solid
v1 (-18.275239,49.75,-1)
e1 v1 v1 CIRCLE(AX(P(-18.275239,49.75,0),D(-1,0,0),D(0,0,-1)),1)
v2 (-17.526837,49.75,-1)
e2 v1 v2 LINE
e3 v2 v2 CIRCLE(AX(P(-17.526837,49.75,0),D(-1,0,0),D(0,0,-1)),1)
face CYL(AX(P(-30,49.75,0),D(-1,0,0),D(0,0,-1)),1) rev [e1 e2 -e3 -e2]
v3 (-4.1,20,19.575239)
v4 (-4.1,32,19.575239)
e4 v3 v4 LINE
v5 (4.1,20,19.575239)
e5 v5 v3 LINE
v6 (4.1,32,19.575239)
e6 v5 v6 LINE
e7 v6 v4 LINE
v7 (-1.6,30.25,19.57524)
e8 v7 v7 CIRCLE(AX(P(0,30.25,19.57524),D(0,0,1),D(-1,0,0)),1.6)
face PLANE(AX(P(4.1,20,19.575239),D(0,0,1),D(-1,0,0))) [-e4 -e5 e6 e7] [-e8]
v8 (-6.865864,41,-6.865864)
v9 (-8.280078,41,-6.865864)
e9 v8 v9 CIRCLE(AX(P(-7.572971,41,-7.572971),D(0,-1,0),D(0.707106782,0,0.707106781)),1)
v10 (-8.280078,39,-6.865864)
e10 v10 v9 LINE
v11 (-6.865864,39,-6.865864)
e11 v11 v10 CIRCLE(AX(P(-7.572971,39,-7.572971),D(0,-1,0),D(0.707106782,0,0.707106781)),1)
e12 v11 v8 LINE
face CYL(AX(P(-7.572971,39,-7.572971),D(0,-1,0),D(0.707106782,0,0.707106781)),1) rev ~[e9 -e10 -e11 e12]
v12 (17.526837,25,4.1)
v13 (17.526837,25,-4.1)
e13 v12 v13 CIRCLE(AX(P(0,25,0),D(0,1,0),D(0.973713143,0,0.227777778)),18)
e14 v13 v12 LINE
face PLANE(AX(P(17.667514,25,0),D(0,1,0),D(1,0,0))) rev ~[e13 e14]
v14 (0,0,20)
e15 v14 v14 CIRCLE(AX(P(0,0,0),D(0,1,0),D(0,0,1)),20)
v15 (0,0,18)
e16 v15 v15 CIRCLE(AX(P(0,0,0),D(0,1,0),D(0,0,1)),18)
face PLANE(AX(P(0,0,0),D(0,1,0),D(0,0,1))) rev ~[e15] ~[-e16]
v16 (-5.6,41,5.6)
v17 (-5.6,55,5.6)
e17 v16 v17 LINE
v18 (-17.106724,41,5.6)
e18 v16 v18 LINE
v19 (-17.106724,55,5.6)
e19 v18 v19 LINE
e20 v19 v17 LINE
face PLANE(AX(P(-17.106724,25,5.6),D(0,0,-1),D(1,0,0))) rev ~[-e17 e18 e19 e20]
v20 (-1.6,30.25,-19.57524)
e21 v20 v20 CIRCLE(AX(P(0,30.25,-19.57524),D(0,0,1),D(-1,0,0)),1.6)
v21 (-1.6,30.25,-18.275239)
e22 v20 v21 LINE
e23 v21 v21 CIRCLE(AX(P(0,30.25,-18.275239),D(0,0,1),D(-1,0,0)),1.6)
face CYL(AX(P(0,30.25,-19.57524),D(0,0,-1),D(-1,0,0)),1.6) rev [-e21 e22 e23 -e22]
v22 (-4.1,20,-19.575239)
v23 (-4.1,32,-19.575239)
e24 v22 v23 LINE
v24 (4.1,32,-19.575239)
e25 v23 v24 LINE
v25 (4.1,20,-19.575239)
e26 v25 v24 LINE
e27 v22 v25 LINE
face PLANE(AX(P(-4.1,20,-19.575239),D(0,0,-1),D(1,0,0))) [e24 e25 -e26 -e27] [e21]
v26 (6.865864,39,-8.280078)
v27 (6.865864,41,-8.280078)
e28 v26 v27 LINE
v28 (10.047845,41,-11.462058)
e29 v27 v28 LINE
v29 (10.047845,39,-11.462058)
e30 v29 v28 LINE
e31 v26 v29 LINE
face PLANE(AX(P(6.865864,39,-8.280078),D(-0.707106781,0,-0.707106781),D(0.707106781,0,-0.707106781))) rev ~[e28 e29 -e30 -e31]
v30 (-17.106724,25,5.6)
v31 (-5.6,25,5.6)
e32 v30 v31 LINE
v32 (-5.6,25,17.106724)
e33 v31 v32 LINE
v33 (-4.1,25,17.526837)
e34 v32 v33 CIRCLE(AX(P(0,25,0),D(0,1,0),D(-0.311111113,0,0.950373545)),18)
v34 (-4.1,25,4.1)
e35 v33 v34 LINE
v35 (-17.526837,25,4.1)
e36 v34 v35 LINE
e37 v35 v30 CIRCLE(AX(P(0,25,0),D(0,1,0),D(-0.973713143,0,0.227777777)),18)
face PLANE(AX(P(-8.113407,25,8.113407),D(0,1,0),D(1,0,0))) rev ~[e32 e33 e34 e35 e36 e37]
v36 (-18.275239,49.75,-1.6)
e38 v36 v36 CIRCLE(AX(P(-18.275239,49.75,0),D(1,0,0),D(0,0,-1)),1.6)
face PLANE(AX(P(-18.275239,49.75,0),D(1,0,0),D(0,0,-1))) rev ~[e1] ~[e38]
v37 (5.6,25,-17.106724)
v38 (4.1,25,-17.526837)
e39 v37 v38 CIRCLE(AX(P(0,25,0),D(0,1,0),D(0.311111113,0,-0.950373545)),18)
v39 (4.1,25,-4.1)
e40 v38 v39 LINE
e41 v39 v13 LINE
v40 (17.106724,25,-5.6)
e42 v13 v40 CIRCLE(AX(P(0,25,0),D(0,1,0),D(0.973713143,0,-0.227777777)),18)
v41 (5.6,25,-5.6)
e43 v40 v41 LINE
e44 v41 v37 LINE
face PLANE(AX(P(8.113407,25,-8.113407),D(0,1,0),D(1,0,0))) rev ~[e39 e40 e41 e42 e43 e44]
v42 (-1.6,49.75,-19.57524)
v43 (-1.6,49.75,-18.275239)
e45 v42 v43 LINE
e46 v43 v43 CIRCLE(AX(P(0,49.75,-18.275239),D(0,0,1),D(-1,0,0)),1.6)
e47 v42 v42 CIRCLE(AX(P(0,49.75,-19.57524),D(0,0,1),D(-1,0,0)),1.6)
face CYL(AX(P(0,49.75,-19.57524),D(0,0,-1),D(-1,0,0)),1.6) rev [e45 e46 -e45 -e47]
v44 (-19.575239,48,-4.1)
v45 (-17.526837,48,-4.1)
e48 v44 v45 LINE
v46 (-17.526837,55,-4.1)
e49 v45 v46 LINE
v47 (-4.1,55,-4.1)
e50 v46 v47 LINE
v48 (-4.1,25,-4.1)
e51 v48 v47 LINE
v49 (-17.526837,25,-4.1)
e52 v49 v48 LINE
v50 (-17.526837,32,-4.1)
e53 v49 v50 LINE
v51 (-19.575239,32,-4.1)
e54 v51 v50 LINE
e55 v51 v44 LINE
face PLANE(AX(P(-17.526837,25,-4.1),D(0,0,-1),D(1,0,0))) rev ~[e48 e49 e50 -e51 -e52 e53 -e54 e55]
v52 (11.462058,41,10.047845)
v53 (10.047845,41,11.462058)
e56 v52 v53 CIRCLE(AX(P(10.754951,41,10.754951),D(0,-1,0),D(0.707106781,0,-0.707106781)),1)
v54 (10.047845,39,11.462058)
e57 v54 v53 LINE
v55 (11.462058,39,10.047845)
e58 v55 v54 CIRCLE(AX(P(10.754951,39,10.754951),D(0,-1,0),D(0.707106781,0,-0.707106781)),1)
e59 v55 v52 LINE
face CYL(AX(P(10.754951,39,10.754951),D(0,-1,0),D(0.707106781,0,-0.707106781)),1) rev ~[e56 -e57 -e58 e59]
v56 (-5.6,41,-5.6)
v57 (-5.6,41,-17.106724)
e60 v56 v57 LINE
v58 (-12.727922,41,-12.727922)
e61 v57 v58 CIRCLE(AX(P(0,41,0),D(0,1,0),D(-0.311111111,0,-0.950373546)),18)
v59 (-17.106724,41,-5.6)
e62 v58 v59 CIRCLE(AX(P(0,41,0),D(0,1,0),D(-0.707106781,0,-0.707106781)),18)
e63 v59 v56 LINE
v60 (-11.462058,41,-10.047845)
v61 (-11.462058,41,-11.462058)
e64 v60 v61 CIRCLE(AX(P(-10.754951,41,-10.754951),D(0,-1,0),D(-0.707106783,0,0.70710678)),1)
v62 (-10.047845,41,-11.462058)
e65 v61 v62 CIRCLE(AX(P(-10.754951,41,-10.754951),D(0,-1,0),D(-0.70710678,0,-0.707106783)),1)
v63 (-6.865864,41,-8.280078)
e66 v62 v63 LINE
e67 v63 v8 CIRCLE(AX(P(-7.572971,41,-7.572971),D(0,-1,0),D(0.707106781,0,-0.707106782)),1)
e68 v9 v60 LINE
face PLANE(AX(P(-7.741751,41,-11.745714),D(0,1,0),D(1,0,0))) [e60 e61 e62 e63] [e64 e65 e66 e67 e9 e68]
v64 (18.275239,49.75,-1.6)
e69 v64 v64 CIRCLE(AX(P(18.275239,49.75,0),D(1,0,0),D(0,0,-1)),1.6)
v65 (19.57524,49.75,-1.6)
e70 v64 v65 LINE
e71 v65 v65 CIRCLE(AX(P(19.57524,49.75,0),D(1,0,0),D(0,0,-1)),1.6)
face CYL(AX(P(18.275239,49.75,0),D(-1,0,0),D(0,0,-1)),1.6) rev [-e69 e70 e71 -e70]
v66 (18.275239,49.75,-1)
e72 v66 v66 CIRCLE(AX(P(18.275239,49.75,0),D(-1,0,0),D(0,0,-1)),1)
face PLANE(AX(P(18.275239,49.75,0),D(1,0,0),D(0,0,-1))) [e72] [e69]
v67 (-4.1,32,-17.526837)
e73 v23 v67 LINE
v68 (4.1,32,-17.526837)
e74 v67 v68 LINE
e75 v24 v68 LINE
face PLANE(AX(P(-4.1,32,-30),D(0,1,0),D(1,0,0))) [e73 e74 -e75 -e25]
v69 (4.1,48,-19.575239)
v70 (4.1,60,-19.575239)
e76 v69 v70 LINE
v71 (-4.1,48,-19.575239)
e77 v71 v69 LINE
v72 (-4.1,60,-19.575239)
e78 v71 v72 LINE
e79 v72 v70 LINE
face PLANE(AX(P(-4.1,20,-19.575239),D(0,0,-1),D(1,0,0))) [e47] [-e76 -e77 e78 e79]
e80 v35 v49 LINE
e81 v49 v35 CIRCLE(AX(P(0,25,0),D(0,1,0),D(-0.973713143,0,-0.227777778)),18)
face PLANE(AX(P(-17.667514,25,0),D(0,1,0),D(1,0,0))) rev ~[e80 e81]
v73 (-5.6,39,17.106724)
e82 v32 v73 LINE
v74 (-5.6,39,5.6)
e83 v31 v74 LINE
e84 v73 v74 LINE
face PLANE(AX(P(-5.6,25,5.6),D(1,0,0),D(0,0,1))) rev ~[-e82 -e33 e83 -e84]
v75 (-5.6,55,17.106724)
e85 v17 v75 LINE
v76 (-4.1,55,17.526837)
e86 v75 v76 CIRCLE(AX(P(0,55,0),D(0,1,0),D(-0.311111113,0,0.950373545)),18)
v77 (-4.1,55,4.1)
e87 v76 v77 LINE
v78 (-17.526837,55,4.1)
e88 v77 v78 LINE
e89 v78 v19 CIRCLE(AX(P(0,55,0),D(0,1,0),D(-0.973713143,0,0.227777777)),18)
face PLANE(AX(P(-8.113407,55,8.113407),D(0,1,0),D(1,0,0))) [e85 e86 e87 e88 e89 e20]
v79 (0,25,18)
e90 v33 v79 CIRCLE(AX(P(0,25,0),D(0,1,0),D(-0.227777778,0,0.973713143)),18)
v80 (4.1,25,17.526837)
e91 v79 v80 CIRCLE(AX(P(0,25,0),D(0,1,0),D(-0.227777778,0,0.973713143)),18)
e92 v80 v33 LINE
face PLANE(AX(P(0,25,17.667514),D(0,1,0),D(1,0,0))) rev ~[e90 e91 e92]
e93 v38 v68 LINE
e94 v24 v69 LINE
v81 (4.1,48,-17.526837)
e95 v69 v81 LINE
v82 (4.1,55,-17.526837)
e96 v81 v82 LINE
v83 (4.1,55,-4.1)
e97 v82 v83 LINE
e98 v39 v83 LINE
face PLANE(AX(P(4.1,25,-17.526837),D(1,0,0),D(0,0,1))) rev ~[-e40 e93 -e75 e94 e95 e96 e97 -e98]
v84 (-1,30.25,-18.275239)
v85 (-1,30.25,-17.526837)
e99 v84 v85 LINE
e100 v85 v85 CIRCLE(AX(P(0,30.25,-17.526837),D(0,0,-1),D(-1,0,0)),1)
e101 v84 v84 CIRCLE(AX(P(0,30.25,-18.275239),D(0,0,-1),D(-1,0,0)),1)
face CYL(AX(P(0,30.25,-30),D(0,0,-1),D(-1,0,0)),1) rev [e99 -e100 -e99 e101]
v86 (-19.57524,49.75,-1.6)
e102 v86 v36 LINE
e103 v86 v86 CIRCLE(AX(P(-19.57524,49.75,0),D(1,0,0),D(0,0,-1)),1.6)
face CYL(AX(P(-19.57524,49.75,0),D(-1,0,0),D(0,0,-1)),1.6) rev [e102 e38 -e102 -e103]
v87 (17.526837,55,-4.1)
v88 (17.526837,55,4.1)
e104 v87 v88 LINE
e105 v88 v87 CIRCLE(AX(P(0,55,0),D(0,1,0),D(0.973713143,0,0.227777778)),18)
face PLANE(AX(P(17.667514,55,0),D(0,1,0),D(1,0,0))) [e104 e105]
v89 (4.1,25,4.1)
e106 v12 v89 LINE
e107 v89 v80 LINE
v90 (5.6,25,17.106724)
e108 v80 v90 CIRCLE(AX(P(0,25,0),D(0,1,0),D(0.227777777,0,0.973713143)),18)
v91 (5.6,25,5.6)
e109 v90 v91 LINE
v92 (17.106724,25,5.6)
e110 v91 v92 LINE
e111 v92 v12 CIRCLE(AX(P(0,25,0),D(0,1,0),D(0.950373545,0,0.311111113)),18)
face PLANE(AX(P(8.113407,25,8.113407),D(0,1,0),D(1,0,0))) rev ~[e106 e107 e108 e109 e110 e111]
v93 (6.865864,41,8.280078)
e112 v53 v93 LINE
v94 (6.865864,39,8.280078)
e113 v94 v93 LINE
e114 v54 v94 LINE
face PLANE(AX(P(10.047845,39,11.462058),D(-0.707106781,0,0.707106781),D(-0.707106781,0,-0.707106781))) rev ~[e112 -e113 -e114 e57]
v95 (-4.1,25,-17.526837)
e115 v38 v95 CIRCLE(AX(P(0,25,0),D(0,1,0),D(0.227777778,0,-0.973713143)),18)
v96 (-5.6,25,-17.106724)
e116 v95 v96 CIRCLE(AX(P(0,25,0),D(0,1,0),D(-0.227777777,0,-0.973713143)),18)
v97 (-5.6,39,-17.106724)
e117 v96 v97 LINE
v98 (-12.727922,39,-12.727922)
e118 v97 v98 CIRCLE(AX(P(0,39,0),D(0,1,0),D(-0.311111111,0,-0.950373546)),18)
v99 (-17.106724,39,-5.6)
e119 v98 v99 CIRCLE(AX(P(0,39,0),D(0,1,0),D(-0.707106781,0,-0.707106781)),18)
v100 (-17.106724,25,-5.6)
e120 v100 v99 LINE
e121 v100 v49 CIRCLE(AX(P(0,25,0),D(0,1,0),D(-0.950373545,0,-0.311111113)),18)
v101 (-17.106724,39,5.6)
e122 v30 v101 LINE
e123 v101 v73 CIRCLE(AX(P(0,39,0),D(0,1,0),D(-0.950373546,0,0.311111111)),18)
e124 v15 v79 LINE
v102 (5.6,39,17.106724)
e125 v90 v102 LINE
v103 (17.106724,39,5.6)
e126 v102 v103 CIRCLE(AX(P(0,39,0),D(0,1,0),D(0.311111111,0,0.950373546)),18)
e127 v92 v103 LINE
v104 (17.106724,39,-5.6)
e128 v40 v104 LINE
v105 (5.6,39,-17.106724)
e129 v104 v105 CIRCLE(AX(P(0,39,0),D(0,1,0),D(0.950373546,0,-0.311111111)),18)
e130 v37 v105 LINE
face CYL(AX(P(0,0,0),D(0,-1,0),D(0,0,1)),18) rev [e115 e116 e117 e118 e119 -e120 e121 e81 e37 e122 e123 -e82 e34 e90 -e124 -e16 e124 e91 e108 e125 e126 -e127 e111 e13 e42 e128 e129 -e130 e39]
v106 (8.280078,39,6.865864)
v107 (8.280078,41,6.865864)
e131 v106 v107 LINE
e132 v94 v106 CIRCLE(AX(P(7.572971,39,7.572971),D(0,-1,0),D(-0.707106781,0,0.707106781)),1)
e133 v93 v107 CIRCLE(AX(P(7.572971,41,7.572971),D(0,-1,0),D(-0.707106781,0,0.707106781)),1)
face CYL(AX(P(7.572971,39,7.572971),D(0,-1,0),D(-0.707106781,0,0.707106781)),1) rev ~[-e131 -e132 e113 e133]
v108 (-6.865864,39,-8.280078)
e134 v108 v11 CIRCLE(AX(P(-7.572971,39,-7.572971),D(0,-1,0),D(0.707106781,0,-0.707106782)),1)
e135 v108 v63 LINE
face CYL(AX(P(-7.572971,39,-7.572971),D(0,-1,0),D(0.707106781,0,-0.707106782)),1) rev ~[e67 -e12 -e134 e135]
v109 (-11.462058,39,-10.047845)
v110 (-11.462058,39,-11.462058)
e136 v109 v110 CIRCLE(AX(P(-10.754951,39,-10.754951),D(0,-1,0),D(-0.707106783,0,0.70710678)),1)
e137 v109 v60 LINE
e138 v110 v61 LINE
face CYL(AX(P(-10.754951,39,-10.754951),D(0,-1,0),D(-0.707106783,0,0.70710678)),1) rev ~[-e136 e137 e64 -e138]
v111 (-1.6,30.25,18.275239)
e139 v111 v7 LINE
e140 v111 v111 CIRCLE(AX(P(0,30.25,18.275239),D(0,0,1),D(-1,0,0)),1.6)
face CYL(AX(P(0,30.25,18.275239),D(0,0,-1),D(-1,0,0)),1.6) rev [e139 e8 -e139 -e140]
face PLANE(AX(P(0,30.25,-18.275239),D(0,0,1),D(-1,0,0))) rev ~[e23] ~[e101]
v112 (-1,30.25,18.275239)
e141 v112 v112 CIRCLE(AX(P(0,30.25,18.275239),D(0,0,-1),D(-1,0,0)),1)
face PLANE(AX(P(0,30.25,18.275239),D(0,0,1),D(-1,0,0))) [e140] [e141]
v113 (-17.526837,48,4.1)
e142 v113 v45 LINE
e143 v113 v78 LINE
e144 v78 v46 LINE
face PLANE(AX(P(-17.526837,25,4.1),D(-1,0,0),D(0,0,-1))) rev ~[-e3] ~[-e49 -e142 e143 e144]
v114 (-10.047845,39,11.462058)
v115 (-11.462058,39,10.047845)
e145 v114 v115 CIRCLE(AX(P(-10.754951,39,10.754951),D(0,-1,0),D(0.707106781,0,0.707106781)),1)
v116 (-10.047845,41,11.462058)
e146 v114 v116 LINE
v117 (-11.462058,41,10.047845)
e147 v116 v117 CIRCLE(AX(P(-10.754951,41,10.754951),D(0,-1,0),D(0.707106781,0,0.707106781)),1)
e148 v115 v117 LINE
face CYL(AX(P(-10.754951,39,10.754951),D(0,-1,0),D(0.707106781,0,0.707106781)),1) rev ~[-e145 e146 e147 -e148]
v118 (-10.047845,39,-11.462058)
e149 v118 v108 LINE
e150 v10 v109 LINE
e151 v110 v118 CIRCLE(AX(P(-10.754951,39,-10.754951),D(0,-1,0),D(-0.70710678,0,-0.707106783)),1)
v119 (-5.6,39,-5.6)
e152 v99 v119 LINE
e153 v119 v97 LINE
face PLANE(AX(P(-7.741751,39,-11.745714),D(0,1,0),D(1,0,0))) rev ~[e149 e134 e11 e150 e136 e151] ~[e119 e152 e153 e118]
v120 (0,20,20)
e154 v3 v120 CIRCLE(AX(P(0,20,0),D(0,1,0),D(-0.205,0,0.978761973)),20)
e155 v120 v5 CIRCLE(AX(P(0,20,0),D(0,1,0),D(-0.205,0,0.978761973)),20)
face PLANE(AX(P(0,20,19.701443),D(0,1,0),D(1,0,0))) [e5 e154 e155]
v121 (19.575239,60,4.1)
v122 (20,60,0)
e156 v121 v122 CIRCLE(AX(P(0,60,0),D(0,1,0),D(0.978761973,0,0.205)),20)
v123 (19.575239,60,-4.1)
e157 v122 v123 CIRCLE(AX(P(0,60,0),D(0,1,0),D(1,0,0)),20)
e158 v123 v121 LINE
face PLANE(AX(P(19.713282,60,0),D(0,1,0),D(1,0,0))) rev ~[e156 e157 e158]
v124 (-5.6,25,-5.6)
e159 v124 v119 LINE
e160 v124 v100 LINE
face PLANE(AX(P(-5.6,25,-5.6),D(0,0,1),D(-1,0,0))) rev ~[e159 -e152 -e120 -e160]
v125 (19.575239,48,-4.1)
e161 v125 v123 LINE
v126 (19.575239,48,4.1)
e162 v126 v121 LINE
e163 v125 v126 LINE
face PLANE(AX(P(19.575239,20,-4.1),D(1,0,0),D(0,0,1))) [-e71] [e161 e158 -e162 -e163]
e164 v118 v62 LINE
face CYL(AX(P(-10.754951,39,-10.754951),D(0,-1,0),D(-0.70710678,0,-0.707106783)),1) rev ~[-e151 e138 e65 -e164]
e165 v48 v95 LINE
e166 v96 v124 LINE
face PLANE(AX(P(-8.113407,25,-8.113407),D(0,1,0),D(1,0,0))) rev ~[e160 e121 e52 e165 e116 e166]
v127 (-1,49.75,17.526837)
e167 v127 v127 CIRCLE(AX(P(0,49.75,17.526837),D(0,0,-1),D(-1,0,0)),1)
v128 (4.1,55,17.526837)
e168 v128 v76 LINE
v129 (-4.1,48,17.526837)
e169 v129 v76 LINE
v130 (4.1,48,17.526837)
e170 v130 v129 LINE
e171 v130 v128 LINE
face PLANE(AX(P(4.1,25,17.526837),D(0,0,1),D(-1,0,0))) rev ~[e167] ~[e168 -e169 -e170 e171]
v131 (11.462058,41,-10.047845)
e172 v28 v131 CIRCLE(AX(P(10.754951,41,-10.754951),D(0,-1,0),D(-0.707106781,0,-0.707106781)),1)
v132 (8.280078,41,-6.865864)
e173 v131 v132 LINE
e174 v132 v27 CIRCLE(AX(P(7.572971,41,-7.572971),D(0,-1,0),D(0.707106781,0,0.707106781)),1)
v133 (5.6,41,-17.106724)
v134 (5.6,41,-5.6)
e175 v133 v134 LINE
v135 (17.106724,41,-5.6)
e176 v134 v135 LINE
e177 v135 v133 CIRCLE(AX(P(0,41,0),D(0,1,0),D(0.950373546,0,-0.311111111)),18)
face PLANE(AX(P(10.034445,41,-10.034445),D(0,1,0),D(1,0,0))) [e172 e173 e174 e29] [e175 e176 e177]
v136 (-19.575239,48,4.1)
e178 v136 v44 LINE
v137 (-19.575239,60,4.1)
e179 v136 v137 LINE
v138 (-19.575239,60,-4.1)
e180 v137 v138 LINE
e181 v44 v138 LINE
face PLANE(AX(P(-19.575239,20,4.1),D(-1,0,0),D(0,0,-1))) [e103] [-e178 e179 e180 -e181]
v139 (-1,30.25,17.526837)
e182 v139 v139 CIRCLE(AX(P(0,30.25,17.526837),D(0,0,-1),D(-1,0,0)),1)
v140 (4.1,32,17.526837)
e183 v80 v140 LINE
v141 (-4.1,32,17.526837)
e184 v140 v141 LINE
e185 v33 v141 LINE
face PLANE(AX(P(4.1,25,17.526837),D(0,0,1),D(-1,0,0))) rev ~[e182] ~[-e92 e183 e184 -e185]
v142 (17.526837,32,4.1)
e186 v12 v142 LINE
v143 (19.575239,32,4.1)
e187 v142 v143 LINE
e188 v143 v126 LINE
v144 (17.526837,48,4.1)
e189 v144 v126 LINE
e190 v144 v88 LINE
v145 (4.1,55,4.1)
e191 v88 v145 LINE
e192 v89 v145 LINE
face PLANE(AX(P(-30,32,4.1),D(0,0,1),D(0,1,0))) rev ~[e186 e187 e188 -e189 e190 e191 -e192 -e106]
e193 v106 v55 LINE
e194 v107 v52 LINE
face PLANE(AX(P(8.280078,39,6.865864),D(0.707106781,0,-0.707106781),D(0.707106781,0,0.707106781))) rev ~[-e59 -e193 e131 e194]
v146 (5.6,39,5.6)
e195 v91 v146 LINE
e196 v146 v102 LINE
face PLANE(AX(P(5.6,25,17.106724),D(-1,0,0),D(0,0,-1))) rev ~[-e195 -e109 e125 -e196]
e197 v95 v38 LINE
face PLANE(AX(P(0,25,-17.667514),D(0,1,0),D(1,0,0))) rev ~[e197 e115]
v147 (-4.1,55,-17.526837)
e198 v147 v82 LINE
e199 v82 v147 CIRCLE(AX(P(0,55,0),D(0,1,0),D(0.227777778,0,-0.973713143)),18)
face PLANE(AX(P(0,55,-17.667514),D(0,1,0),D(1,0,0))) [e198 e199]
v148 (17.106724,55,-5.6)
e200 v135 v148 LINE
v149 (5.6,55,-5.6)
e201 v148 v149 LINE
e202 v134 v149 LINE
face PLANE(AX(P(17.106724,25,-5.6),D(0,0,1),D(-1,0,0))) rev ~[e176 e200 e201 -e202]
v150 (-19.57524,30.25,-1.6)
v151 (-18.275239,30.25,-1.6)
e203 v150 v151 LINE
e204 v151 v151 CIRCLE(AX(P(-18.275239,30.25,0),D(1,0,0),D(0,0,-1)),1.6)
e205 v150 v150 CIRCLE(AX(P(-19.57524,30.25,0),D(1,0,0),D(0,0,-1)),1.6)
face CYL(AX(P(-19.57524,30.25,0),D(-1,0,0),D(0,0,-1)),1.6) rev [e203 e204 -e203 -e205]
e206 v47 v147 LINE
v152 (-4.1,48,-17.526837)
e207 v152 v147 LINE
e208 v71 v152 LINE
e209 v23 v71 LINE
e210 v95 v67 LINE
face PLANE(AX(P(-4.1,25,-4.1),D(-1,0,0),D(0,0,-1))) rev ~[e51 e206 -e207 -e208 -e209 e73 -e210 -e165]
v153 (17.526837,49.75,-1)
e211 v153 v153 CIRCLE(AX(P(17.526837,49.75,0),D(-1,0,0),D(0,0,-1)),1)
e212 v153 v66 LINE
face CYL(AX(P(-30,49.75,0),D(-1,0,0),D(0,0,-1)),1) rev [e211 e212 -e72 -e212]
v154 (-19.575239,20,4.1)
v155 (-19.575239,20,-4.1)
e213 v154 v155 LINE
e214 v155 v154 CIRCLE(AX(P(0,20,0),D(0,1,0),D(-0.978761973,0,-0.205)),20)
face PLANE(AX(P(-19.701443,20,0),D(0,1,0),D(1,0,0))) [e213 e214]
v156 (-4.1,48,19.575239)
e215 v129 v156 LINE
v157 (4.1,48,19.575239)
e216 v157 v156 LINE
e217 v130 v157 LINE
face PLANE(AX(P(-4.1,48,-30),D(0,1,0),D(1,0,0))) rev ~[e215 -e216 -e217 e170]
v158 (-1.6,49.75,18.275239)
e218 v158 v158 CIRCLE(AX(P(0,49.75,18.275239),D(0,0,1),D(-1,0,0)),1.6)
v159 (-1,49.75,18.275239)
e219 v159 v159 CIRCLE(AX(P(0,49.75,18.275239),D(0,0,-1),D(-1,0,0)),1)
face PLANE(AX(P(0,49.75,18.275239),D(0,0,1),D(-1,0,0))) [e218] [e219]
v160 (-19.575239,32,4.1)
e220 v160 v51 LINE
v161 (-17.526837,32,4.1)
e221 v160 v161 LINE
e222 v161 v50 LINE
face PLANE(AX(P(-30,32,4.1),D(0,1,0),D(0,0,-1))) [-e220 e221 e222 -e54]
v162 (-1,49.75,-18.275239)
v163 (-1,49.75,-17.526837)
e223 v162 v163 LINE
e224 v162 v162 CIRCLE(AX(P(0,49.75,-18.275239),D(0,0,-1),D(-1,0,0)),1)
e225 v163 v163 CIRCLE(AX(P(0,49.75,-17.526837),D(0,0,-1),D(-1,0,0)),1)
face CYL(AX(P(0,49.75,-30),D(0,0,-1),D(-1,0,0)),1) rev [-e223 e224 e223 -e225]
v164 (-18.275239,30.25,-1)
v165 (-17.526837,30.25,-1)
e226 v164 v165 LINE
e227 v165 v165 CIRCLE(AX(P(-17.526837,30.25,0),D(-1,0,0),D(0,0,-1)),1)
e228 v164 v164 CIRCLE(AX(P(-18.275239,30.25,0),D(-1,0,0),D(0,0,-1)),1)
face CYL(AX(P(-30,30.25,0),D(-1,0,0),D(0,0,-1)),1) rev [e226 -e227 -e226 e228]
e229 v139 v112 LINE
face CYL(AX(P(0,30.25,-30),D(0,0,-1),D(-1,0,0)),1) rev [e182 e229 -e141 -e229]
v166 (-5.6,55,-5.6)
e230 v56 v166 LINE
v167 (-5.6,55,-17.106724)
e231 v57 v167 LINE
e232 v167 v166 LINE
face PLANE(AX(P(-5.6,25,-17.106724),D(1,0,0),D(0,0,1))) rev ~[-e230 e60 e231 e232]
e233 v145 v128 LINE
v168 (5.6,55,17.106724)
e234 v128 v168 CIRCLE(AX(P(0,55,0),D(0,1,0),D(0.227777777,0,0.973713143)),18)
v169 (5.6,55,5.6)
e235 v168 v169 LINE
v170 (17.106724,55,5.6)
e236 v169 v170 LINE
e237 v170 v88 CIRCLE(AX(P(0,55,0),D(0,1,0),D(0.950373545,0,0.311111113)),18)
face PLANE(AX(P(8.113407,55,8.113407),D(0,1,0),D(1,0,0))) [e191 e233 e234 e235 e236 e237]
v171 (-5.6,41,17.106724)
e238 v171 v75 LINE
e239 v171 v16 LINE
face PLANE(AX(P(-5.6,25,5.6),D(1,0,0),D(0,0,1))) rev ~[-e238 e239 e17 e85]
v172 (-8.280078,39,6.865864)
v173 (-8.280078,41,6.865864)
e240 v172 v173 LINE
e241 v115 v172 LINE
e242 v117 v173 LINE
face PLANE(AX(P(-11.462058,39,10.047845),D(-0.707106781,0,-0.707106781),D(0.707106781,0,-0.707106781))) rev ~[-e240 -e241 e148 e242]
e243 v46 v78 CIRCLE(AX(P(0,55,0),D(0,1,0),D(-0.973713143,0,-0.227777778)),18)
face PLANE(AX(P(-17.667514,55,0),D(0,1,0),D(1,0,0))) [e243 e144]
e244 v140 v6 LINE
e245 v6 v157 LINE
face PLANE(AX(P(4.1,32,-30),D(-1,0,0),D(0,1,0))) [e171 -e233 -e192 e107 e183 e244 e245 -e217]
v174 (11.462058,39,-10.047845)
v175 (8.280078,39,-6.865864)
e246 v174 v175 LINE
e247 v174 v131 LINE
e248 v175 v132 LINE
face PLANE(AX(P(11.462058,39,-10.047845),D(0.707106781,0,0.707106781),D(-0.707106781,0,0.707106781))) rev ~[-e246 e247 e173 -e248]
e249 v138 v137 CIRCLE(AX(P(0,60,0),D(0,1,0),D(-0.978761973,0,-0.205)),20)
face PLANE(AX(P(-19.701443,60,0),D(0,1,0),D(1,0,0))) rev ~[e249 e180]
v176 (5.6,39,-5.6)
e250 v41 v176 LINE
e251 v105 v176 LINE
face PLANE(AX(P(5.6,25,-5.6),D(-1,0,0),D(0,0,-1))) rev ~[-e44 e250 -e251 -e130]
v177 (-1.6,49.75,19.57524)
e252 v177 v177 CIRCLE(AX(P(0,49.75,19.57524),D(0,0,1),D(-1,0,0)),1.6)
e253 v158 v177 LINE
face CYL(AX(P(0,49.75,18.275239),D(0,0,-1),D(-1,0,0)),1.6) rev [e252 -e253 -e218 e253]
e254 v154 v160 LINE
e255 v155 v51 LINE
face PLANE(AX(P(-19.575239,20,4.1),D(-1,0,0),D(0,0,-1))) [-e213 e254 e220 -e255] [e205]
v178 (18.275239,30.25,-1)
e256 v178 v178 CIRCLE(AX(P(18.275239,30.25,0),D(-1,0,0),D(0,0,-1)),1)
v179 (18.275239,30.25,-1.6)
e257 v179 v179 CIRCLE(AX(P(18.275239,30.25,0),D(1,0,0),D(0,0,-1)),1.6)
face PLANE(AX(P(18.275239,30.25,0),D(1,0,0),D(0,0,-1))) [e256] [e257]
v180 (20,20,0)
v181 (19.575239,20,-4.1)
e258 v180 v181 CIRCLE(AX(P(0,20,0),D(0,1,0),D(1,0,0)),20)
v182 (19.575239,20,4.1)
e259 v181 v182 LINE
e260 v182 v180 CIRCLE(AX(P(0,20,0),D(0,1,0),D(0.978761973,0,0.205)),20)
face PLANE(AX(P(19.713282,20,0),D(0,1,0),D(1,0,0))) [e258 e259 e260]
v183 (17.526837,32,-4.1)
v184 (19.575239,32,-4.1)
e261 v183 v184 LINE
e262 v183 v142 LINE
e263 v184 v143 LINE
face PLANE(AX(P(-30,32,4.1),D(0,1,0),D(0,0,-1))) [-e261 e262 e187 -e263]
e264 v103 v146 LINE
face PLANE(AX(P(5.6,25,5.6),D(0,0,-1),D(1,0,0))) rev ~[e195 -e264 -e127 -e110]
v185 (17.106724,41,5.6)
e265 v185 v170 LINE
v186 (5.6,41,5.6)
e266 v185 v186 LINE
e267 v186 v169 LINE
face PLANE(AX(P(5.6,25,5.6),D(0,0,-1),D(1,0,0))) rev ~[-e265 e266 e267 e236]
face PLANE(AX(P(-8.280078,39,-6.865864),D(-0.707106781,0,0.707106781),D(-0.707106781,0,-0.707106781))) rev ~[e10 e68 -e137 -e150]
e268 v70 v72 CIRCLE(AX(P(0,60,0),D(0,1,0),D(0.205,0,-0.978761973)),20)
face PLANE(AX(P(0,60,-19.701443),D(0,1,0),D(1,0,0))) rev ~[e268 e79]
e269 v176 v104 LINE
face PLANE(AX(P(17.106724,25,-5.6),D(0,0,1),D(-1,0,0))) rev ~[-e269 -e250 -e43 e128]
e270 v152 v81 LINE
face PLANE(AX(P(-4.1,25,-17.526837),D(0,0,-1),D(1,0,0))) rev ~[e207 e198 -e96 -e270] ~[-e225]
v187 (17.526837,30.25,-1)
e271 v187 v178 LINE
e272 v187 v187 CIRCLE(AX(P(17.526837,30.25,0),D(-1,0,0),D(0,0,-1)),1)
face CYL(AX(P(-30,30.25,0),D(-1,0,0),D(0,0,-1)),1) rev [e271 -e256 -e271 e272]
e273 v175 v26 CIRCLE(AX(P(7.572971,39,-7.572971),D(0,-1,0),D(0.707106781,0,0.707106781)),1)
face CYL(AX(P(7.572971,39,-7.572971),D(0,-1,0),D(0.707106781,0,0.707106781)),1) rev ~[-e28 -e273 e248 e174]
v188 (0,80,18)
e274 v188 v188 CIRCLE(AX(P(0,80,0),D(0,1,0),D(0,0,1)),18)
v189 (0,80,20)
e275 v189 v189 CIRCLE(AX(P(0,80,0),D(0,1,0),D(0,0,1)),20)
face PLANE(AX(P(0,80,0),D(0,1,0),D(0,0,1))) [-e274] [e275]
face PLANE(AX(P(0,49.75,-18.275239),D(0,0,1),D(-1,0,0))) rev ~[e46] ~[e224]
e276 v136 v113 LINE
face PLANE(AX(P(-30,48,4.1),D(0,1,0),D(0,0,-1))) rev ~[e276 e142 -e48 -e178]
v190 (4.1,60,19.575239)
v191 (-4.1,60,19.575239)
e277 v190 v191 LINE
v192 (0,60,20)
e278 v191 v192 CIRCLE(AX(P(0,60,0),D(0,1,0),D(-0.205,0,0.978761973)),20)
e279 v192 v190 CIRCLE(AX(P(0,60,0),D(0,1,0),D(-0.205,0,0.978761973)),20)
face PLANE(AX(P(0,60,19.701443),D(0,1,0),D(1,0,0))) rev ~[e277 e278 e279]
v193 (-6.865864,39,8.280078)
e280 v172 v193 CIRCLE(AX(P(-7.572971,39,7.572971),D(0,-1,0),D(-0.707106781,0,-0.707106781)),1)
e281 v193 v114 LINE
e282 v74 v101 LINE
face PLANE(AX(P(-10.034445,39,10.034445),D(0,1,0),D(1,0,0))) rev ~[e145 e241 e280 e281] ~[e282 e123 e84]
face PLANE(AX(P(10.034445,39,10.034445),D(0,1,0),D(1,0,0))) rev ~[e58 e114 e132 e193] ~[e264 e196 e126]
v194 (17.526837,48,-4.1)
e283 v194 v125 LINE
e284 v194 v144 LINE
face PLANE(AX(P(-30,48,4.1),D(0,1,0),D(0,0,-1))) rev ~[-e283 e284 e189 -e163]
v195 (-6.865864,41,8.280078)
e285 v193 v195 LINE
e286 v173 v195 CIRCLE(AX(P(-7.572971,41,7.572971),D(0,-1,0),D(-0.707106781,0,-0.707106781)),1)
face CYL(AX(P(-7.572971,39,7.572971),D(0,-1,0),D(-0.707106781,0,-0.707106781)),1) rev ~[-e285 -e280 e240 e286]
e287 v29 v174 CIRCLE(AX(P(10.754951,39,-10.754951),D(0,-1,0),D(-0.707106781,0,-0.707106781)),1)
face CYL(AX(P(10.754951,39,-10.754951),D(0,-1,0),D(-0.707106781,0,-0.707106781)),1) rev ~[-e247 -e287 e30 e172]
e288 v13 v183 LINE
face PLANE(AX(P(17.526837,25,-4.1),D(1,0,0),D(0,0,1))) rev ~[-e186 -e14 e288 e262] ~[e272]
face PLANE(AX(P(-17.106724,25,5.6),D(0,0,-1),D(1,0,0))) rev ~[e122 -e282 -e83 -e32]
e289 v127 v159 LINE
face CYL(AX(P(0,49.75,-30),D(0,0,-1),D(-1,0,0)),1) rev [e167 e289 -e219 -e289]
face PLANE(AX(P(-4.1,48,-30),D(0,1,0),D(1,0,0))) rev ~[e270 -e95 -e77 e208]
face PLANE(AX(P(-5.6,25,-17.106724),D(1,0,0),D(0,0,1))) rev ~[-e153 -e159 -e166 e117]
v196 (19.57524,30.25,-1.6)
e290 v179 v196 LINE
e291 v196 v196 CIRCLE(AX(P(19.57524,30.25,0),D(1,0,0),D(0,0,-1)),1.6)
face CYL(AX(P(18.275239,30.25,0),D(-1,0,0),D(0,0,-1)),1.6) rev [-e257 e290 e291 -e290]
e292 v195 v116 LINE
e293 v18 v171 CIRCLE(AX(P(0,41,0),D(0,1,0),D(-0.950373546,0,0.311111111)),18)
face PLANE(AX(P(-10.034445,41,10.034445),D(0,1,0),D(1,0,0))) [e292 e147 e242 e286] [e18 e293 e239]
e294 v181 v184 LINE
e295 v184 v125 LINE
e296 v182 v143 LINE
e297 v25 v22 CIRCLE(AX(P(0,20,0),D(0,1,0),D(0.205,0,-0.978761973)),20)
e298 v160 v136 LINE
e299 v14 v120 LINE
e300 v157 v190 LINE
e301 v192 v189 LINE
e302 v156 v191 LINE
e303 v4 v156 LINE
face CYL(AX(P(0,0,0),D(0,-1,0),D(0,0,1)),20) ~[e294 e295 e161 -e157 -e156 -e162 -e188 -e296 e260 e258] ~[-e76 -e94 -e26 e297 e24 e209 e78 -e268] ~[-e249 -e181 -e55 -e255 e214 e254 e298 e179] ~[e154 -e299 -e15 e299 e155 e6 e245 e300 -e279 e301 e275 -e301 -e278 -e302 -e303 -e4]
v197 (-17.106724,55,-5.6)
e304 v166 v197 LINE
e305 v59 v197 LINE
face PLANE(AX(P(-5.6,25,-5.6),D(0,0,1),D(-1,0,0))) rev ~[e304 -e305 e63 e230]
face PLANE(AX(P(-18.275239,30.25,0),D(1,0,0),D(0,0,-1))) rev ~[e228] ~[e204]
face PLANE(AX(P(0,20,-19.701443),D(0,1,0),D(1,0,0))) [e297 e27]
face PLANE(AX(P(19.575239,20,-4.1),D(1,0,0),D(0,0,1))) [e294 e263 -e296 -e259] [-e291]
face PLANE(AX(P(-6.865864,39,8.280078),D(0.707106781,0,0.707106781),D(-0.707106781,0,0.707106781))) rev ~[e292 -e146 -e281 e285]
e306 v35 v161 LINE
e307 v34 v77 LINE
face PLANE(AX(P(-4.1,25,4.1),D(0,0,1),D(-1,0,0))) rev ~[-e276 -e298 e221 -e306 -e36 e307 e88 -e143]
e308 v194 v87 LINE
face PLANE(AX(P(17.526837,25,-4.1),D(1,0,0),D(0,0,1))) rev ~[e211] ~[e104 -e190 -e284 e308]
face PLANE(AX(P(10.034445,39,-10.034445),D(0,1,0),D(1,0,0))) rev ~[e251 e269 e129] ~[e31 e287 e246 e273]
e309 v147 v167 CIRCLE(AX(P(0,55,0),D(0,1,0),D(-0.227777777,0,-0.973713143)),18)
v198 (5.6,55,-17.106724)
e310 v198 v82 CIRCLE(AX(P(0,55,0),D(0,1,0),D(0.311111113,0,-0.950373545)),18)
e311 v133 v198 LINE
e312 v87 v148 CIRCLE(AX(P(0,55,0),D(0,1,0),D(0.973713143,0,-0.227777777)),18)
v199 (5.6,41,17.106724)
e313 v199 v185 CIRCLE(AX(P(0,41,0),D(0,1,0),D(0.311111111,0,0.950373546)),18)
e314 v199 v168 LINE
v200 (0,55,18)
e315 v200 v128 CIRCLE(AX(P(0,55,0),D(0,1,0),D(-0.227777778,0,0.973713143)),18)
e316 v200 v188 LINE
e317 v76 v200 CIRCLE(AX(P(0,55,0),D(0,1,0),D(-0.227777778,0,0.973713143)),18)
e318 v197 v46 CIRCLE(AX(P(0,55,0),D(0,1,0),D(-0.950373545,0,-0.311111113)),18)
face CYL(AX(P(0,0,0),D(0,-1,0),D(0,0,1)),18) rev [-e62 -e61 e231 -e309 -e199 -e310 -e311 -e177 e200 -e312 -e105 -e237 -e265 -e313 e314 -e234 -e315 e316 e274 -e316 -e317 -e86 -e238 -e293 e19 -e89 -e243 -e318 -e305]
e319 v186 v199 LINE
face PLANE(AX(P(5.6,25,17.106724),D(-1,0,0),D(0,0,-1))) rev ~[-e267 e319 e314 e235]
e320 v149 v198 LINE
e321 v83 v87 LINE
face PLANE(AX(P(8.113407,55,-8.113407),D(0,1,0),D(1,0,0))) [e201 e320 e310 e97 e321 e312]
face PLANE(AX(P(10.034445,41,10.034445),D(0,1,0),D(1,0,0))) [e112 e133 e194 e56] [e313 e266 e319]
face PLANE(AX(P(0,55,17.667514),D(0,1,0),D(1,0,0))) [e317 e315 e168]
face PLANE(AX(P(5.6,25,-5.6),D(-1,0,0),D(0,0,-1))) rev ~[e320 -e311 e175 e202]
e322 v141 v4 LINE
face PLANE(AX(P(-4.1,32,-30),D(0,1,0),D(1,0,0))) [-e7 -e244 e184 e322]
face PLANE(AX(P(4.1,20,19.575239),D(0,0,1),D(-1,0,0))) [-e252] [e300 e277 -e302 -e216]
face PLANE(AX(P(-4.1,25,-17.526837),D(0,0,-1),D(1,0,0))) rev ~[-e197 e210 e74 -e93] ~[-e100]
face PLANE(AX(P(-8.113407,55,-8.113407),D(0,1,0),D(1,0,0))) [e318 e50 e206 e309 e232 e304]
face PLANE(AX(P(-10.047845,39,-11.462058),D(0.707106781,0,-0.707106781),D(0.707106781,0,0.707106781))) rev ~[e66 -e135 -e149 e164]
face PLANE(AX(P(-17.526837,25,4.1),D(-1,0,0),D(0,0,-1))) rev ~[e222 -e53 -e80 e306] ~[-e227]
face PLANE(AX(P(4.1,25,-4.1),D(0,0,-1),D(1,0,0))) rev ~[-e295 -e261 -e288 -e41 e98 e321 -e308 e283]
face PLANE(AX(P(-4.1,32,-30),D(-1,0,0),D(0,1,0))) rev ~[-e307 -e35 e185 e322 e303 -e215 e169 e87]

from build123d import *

# Parameters (mm, degrees)
SKETCH_1_R               = 20
SKETCH_1_R_2             = 18
EXTRUDE_1_DEPTH          = 80
EXTRUDE_START            = 25
EXTRUDE_2_DEPTH          = 30
CUT_EXTRUDE_START        = 20
CUT_EXTRUDE_1_DEPTH      = 40
CUT_EXTRUDE_3_DEPTH      = 30
CUT_EXTRUDE_3_DEPTH_BACK = 30
SKETCH_4_W               = 8.2
SKETCH_4_H               = 16
SKETCH_4_R               = 1
CUT_EXTRUDE_4_DEPTH      = 30
CUT_EXTRUDE_4_DEPTH_BACK = 30
SKETCH_5_R               = 1
SKETCH_5_W               = 8.2
SKETCH_5_H               = 16
EXTRUDE_3_DEPTH          = 30
EXTRUDE_START_2          = 39
EXTRUDE_4_DEPTH          = 2
CUT_EXTRUDE_START_2      = 18.275239
SKETCH_8_R               = 1.6
CUT_EXTRUDE_5_DEPTH      = 1.300001
CUT_EXTRUDE_START_3      = -19.57524
SKETCH_9_R               = 1.6
CUT_EXTRUDE_6_DEPTH      = 1.300001
SKETCH_10_R              = 1.6
CUT_EXTRUDE_7_DEPTH      = 1.300001
SKETCH_11_R              = 1.6
CUT_EXTRUDE_8_DEPTH      = 1.300001


with BuildPart() as part:
    # 草图1 → 凸台-拉伸1 (new body)
    with BuildSketch(Plane(origin=(0, 0, 0), x_dir=(1, 0, 0), z_dir=(0, 1, 0))):
        with Locations(Location((0, 0, 0), (0, 0, 270))):
            Circle(SKETCH_1_R)
        with Locations(Location((0, 0, 0), (0, 0, 270))):
            Circle(SKETCH_1_R_2, mode=Mode.SUBTRACT)
    extrude(amount=EXTRUDE_1_DEPTH)

    # 草图2 → 凸台-拉伸2 (add)
    with BuildSketch(Plane(origin=(0, 0, 0), x_dir=(1, 0, 0), z_dir=(0, 1, 0)).offset(EXTRUDE_START)):
        with BuildLine():
            Line((17.526836566, 4.1), (17.526836566, -4.1))
            ThreePointArc((17.526836566, -4.1), (18, 0), (17.526836566, 4.1))
        make_face()
        with BuildLine():
            ThreePointArc((-4.1, -17.526836566), (0, -18), (4.1, -17.526836566))
            Line((4.1, -17.526836566), (-4.1, -17.526836566))
        make_face()
        with BuildLine():
            Line((-4.1, 17.526836566), (4.1, 17.526836566))
            ThreePointArc((4.1, 17.526836566), (0, 18), (-4.1, 17.526836566))
        make_face()
        with BuildLine():
            ThreePointArc((-17.526836566, 4.1), (-18, 0), (-17.526836566, -4.1))
            Line((-17.526836566, -4.1), (-17.526836566, 4.1))
        make_face()
    extrude(amount=EXTRUDE_2_DEPTH)

    # 草图3 → 切除-拉伸1 (cut)
    with BuildSketch(Plane(origin=(0, 0, 0), x_dir=(1, 0, 0), z_dir=(0, 1, 0)).offset(CUT_EXTRUDE_START)):
        with BuildLine():
            Line((-19.575239462, -4.1), (-19.575239462, 4.1))
            ThreePointArc((-19.575239462, 4.1), (-20, 0), (-19.575239462, -4.1))
        make_face()
        with BuildLine():
            Line((4.1, -19.575239462), (-4.1, -19.575239462))
            ThreePointArc((-4.1, -19.575239462), (0, -20), (4.1, -19.575239462))
        make_face()
        with BuildLine():
            ThreePointArc((20, 0), (19.89352645, 2.06097195), (19.575239462, 4.1))
            Line((19.575239462, 4.1), (19.575239462, -4.1))
            ThreePointArc((19.575239462, -4.1), (19.89352645, -2.06097195), (20, 0))
        make_face()
        with BuildLine():
            ThreePointArc((4.1, 19.575239462), (0, 20), (-4.1, 19.575239462))
            Line((-4.1, 19.575239462), (4.1, 19.575239462))
        make_face()
    extrude(amount=CUT_EXTRUDE_1_DEPTH, mode=Mode.SUBTRACT)

    # 草图4 → 切除-拉伸3 (cut, two sides: drawn at the far end of the back side and taken through both)
    with BuildSketch(Plane.XY.offset(-CUT_EXTRUDE_3_DEPTH_BACK)):
        with Locations((0, 40)):
            Rectangle(SKETCH_4_W, SKETCH_4_H)
        with Locations(Location((0, 49.75, 0), (0, 0, 180))):
            Circle(SKETCH_4_R)
        with Locations(Location((0, 30.25, 0), (0, 0, 180))):
            Circle(SKETCH_4_R)
    extrude(amount=CUT_EXTRUDE_3_DEPTH + CUT_EXTRUDE_3_DEPTH_BACK, mode=Mode.SUBTRACT)

    # 草图5 → 切除-拉伸4 (cut, two sides: drawn at the far end of the back side and taken through both)
    with BuildSketch(Plane(origin=(0, 0, 0), x_dir=(0, 0, -1), z_dir=(1, 0, 0)).offset(-CUT_EXTRUDE_4_DEPTH_BACK)):
        with Locations((0, 49.75)):
            Circle(SKETCH_5_R)
        with Locations((0, 30.25)):
            Circle(SKETCH_5_R)
        with Locations((0, 40)):
            Rectangle(SKETCH_5_W, SKETCH_5_H)
    extrude(amount=CUT_EXTRUDE_4_DEPTH + CUT_EXTRUDE_4_DEPTH_BACK, mode=Mode.SUBTRACT)

    # 草图6 → 凸台-拉伸3 (add)
    with BuildSketch(Plane(origin=(0, 0, 0), x_dir=(1, 0, 0), z_dir=(0, 1, 0)).offset(EXTRUDE_START)):
        with BuildLine():
            Line((-4.1, 4.1), (-4.1, 17.526836566))
            ThreePointArc((-4.1, 17.526836566), (-4.854546702, 17.333014058), (-5.6, 17.106723824))
            Line((-5.6, 17.106723824), (-5.6, 5.6))
            Line((-5.6, 5.6), (-17.106723824, 5.6))
            ThreePointArc((-17.106723824, 5.6), (-17.333014058, 4.854546702), (-17.526836566, 4.1))
            Line((-17.526836566, 4.1), (-4.1, 4.1))
        make_face()
        with BuildLine():
            Line((4.1, 4.1), (17.526836566, 4.1))
            ThreePointArc((17.526836566, 4.1), (17.333014058, 4.854546702), (17.106723824, 5.6))
            Line((17.106723824, 5.6), (5.6, 5.6))
            Line((5.6, 5.6), (5.6, 17.106723824))
            ThreePointArc((5.6, 17.106723824), (4.854546702, 17.333014058), (4.1, 17.526836566))
            Line((4.1, 17.526836566), (4.1, 4.1))
        make_face()
        with BuildLine():
            ThreePointArc((17.106723824, -5.6), (17.333014058, -4.854546702), (17.526836566, -4.1))
            Line((17.526836566, -4.1), (4.1, -4.1))
            Line((4.1, -4.1), (4.1, -17.526836566))
            ThreePointArc((4.1, -17.526836566), (4.854546702, -17.333014058), (5.6, -17.106723824))
            Line((5.6, -17.106723824), (5.6, -5.6))
            Line((5.6, -5.6), (17.106723824, -5.6))
        make_face()
        with BuildLine():
            ThreePointArc((-5.6, -17.106723824), (-4.854546702, -17.333014058), (-4.1, -17.526836566))
            Line((-4.1, -17.526836566), (-4.1, -4.1))
            Line((-4.1, -4.1), (-17.526836566, -4.1))
            ThreePointArc((-17.526836566, -4.1), (-17.333014058, -4.854546702), (-17.106723824, -5.6))
            Line((-17.106723824, -5.6), (-5.6, -5.6))
            Line((-5.6, -5.6), (-5.6, -17.106723824))
        make_face()
    extrude(amount=EXTRUDE_3_DEPTH)

    # 草图7 → 凸台-拉伸4 (add)
    # profile 1 of 5: a face of its own
    with BuildSketch(Plane(origin=(0, 0, 0), x_dir=(1, 0, 0), z_dir=(0, 1, 0)).offset(EXTRUDE_START_2)):
        with BuildLine():
            Line((5.6, 5.6), (17.106723824, 5.6))
            ThreePointArc((17.106723824, 5.6), (12.727922061, 12.727922061), (5.6, 17.106723824))
            Line((5.6, 17.106723824), (5.6, 5.6))
        make_face()
        with BuildLine():
            Line((6.865863992, 8.280077554), (10.047844507, 11.46205807))
            ThreePointArc((10.047844507, 11.46205807), (11.46205807, 11.46205807), (11.46205807, 10.047844507))
            Line((11.46205807, 10.047844507), (8.280077554, 6.865863992))
            ThreePointArc((8.280077554, 6.865863992), (6.865863992, 6.865863992), (6.865863992, 8.280077554))
        make_face(mode=Mode.SUBTRACT)
    # profile 2 of 5: a face of its own
    with BuildSketch(Plane(origin=(0, 0, 0), x_dir=(1, 0, 0), z_dir=(0, 1, 0)).offset(EXTRUDE_START_2)):
        with BuildLine():
            Line((17.106723824, -5.6), (5.6, -5.6))
            Line((5.6, -5.6), (5.6, -17.106723824))
            ThreePointArc((5.6, -17.106723824), (12.727922061, -12.727922061), (17.106723824, -5.6))
        make_face()
        with BuildLine():
            ThreePointArc((11.46205807, -10.047844507), (11.46205807, -11.46205807), (10.047844507, -11.46205807))
            Line((10.047844507, -11.46205807), (6.865863992, -8.280077554))
            ThreePointArc((6.865863992, -8.280077554), (6.865863992, -6.865863992), (8.280077554, -6.865863992))
            Line((8.280077554, -6.865863992), (11.46205807, -10.047844507))
        make_face(mode=Mode.SUBTRACT)
    # profile 3 of 5: a face of its own
    with BuildSketch(Plane(origin=(0, 0, 0), x_dir=(1, 0, 0), z_dir=(0, 1, 0)).offset(EXTRUDE_START_2)):
        with BuildLine():
            ThreePointArc((-17.106723824, -5.6), (-12.727922061, -12.727922061), (-5.6, -17.106723824))
            Line((-5.6, -17.106723824), (-5.6, -5.6))
            Line((-5.6, -5.6), (-17.106723824, -5.6))
        make_face()
        with BuildLine():
            Line((-6.865863992, -8.280077554), (-10.047844507, -11.46205807))
            ThreePointArc((-10.047844507, -11.46205807), (-11.46205807, -11.46205807), (-11.46205807, -10.047844507))
            Line((-11.46205807, -10.047844507), (-8.280077554, -6.865863992))
            ThreePointArc((-8.280077554, -6.865863992), (-6.865863992, -6.865863992), (-6.865863992, -8.280077554))
        make_face(mode=Mode.SUBTRACT)
    # profile 4 of 5: a face of its own
    with BuildSketch(Plane(origin=(0, 0, 0), x_dir=(1, 0, 0), z_dir=(0, 1, 0)).offset(EXTRUDE_START_2)):
        with BuildLine():
            Line((-5.6, 5.6), (-5.6, 17.106723824))
            ThreePointArc((-5.6, 17.106723824), (-9.421871257, 15.337155604), (-12.727922061, 12.727922061))
            Line((-12.727922061, 12.727922061), (-11.46205807, 11.46205807))
            ThreePointArc((-11.46205807, 11.46205807), (-10.754951288, 11.754951288), (-10.047844507, 11.46205807))
            Line((-10.047844507, 11.46205807), (-6.865863992, 8.280077554))
            ThreePointArc((-6.865863992, 8.280077554), (-6.572970773, 7.572970773), (-6.865863992, 6.865863992))
            Line((-6.865863992, 6.865863992), (-5.6, 5.6))
        make_face()
    # profile 5 of 5: a face of its own
    with BuildSketch(Plane(origin=(0, 0, 0), x_dir=(1, 0, 0), z_dir=(0, 1, 0)).offset(EXTRUDE_START_2)):
        with BuildLine():
            ThreePointArc((-12.727922061, 12.727922061), (-15.337155604, 9.421871257), (-17.106723824, 5.6))
            Line((-17.106723824, 5.6), (-5.6, 5.6))
            Line((-5.6, 5.6), (-6.865863992, 6.865863992))
            ThreePointArc((-6.865863992, 6.865863992), (-7.572970773, 6.572970773), (-8.280077554, 6.865863992))
            Line((-8.280077554, 6.865863992), (-11.46205807, 10.047844507))
            ThreePointArc((-11.46205807, 10.047844507), (-11.754951288, 10.754951288), (-11.46205807, 11.46205807))
            Line((-11.46205807, 11.46205807), (-12.727922061, 12.727922061))
        make_face()
    extrude(amount=EXTRUDE_4_DEPTH)

    # 草图8 → 切除-拉伸5 (cut)
    with BuildSketch(Plane.XY.offset(CUT_EXTRUDE_START_2)):
        with Locations(Location((0, 49.75, 0), (0, 0, 180))):
            Circle(SKETCH_8_R)
        with Locations(Location((0, 30.25, 0), (0, 0, 180))):
            Circle(SKETCH_8_R)
    extrude(amount=CUT_EXTRUDE_5_DEPTH, mode=Mode.SUBTRACT)

    # 草图9 → 切除-拉伸6 (cut)
    with BuildSketch(Plane.XY.offset(CUT_EXTRUDE_START_3)):
        with Locations(Location((0, 49.75, 0), (0, 0, 180))):
            Circle(SKETCH_9_R)
        with Locations(Location((0, 30.25, 0), (0, 0, 180))):
            Circle(SKETCH_9_R)
    extrude(amount=CUT_EXTRUDE_6_DEPTH, mode=Mode.SUBTRACT)

    # 草图10 → 切除-拉伸7 (cut)
    with BuildSketch(Plane(origin=(0, 0, 0), x_dir=(0, 0, -1), z_dir=(1, 0, 0)).offset(CUT_EXTRUDE_START_3)):
        with Locations((0, 49.75)):
            Circle(SKETCH_10_R)
        with Locations((0, 30.25)):
            Circle(SKETCH_10_R)
    extrude(amount=CUT_EXTRUDE_7_DEPTH, mode=Mode.SUBTRACT)

    # 草图11 → 切除-拉伸8 (cut)
    with BuildSketch(Plane(origin=(0, 0, 0), x_dir=(0, 0, -1), z_dir=(1, 0, 0)).offset(CUT_EXTRUDE_START_2)):
        with Locations((0, 49.75)):
            Circle(SKETCH_11_R)
        with Locations((0, 30.25)):
            Circle(SKETCH_11_R)
    extrude(amount=CUT_EXTRUDE_8_DEPTH, mode=Mode.SUBTRACT)


solid = part.part
